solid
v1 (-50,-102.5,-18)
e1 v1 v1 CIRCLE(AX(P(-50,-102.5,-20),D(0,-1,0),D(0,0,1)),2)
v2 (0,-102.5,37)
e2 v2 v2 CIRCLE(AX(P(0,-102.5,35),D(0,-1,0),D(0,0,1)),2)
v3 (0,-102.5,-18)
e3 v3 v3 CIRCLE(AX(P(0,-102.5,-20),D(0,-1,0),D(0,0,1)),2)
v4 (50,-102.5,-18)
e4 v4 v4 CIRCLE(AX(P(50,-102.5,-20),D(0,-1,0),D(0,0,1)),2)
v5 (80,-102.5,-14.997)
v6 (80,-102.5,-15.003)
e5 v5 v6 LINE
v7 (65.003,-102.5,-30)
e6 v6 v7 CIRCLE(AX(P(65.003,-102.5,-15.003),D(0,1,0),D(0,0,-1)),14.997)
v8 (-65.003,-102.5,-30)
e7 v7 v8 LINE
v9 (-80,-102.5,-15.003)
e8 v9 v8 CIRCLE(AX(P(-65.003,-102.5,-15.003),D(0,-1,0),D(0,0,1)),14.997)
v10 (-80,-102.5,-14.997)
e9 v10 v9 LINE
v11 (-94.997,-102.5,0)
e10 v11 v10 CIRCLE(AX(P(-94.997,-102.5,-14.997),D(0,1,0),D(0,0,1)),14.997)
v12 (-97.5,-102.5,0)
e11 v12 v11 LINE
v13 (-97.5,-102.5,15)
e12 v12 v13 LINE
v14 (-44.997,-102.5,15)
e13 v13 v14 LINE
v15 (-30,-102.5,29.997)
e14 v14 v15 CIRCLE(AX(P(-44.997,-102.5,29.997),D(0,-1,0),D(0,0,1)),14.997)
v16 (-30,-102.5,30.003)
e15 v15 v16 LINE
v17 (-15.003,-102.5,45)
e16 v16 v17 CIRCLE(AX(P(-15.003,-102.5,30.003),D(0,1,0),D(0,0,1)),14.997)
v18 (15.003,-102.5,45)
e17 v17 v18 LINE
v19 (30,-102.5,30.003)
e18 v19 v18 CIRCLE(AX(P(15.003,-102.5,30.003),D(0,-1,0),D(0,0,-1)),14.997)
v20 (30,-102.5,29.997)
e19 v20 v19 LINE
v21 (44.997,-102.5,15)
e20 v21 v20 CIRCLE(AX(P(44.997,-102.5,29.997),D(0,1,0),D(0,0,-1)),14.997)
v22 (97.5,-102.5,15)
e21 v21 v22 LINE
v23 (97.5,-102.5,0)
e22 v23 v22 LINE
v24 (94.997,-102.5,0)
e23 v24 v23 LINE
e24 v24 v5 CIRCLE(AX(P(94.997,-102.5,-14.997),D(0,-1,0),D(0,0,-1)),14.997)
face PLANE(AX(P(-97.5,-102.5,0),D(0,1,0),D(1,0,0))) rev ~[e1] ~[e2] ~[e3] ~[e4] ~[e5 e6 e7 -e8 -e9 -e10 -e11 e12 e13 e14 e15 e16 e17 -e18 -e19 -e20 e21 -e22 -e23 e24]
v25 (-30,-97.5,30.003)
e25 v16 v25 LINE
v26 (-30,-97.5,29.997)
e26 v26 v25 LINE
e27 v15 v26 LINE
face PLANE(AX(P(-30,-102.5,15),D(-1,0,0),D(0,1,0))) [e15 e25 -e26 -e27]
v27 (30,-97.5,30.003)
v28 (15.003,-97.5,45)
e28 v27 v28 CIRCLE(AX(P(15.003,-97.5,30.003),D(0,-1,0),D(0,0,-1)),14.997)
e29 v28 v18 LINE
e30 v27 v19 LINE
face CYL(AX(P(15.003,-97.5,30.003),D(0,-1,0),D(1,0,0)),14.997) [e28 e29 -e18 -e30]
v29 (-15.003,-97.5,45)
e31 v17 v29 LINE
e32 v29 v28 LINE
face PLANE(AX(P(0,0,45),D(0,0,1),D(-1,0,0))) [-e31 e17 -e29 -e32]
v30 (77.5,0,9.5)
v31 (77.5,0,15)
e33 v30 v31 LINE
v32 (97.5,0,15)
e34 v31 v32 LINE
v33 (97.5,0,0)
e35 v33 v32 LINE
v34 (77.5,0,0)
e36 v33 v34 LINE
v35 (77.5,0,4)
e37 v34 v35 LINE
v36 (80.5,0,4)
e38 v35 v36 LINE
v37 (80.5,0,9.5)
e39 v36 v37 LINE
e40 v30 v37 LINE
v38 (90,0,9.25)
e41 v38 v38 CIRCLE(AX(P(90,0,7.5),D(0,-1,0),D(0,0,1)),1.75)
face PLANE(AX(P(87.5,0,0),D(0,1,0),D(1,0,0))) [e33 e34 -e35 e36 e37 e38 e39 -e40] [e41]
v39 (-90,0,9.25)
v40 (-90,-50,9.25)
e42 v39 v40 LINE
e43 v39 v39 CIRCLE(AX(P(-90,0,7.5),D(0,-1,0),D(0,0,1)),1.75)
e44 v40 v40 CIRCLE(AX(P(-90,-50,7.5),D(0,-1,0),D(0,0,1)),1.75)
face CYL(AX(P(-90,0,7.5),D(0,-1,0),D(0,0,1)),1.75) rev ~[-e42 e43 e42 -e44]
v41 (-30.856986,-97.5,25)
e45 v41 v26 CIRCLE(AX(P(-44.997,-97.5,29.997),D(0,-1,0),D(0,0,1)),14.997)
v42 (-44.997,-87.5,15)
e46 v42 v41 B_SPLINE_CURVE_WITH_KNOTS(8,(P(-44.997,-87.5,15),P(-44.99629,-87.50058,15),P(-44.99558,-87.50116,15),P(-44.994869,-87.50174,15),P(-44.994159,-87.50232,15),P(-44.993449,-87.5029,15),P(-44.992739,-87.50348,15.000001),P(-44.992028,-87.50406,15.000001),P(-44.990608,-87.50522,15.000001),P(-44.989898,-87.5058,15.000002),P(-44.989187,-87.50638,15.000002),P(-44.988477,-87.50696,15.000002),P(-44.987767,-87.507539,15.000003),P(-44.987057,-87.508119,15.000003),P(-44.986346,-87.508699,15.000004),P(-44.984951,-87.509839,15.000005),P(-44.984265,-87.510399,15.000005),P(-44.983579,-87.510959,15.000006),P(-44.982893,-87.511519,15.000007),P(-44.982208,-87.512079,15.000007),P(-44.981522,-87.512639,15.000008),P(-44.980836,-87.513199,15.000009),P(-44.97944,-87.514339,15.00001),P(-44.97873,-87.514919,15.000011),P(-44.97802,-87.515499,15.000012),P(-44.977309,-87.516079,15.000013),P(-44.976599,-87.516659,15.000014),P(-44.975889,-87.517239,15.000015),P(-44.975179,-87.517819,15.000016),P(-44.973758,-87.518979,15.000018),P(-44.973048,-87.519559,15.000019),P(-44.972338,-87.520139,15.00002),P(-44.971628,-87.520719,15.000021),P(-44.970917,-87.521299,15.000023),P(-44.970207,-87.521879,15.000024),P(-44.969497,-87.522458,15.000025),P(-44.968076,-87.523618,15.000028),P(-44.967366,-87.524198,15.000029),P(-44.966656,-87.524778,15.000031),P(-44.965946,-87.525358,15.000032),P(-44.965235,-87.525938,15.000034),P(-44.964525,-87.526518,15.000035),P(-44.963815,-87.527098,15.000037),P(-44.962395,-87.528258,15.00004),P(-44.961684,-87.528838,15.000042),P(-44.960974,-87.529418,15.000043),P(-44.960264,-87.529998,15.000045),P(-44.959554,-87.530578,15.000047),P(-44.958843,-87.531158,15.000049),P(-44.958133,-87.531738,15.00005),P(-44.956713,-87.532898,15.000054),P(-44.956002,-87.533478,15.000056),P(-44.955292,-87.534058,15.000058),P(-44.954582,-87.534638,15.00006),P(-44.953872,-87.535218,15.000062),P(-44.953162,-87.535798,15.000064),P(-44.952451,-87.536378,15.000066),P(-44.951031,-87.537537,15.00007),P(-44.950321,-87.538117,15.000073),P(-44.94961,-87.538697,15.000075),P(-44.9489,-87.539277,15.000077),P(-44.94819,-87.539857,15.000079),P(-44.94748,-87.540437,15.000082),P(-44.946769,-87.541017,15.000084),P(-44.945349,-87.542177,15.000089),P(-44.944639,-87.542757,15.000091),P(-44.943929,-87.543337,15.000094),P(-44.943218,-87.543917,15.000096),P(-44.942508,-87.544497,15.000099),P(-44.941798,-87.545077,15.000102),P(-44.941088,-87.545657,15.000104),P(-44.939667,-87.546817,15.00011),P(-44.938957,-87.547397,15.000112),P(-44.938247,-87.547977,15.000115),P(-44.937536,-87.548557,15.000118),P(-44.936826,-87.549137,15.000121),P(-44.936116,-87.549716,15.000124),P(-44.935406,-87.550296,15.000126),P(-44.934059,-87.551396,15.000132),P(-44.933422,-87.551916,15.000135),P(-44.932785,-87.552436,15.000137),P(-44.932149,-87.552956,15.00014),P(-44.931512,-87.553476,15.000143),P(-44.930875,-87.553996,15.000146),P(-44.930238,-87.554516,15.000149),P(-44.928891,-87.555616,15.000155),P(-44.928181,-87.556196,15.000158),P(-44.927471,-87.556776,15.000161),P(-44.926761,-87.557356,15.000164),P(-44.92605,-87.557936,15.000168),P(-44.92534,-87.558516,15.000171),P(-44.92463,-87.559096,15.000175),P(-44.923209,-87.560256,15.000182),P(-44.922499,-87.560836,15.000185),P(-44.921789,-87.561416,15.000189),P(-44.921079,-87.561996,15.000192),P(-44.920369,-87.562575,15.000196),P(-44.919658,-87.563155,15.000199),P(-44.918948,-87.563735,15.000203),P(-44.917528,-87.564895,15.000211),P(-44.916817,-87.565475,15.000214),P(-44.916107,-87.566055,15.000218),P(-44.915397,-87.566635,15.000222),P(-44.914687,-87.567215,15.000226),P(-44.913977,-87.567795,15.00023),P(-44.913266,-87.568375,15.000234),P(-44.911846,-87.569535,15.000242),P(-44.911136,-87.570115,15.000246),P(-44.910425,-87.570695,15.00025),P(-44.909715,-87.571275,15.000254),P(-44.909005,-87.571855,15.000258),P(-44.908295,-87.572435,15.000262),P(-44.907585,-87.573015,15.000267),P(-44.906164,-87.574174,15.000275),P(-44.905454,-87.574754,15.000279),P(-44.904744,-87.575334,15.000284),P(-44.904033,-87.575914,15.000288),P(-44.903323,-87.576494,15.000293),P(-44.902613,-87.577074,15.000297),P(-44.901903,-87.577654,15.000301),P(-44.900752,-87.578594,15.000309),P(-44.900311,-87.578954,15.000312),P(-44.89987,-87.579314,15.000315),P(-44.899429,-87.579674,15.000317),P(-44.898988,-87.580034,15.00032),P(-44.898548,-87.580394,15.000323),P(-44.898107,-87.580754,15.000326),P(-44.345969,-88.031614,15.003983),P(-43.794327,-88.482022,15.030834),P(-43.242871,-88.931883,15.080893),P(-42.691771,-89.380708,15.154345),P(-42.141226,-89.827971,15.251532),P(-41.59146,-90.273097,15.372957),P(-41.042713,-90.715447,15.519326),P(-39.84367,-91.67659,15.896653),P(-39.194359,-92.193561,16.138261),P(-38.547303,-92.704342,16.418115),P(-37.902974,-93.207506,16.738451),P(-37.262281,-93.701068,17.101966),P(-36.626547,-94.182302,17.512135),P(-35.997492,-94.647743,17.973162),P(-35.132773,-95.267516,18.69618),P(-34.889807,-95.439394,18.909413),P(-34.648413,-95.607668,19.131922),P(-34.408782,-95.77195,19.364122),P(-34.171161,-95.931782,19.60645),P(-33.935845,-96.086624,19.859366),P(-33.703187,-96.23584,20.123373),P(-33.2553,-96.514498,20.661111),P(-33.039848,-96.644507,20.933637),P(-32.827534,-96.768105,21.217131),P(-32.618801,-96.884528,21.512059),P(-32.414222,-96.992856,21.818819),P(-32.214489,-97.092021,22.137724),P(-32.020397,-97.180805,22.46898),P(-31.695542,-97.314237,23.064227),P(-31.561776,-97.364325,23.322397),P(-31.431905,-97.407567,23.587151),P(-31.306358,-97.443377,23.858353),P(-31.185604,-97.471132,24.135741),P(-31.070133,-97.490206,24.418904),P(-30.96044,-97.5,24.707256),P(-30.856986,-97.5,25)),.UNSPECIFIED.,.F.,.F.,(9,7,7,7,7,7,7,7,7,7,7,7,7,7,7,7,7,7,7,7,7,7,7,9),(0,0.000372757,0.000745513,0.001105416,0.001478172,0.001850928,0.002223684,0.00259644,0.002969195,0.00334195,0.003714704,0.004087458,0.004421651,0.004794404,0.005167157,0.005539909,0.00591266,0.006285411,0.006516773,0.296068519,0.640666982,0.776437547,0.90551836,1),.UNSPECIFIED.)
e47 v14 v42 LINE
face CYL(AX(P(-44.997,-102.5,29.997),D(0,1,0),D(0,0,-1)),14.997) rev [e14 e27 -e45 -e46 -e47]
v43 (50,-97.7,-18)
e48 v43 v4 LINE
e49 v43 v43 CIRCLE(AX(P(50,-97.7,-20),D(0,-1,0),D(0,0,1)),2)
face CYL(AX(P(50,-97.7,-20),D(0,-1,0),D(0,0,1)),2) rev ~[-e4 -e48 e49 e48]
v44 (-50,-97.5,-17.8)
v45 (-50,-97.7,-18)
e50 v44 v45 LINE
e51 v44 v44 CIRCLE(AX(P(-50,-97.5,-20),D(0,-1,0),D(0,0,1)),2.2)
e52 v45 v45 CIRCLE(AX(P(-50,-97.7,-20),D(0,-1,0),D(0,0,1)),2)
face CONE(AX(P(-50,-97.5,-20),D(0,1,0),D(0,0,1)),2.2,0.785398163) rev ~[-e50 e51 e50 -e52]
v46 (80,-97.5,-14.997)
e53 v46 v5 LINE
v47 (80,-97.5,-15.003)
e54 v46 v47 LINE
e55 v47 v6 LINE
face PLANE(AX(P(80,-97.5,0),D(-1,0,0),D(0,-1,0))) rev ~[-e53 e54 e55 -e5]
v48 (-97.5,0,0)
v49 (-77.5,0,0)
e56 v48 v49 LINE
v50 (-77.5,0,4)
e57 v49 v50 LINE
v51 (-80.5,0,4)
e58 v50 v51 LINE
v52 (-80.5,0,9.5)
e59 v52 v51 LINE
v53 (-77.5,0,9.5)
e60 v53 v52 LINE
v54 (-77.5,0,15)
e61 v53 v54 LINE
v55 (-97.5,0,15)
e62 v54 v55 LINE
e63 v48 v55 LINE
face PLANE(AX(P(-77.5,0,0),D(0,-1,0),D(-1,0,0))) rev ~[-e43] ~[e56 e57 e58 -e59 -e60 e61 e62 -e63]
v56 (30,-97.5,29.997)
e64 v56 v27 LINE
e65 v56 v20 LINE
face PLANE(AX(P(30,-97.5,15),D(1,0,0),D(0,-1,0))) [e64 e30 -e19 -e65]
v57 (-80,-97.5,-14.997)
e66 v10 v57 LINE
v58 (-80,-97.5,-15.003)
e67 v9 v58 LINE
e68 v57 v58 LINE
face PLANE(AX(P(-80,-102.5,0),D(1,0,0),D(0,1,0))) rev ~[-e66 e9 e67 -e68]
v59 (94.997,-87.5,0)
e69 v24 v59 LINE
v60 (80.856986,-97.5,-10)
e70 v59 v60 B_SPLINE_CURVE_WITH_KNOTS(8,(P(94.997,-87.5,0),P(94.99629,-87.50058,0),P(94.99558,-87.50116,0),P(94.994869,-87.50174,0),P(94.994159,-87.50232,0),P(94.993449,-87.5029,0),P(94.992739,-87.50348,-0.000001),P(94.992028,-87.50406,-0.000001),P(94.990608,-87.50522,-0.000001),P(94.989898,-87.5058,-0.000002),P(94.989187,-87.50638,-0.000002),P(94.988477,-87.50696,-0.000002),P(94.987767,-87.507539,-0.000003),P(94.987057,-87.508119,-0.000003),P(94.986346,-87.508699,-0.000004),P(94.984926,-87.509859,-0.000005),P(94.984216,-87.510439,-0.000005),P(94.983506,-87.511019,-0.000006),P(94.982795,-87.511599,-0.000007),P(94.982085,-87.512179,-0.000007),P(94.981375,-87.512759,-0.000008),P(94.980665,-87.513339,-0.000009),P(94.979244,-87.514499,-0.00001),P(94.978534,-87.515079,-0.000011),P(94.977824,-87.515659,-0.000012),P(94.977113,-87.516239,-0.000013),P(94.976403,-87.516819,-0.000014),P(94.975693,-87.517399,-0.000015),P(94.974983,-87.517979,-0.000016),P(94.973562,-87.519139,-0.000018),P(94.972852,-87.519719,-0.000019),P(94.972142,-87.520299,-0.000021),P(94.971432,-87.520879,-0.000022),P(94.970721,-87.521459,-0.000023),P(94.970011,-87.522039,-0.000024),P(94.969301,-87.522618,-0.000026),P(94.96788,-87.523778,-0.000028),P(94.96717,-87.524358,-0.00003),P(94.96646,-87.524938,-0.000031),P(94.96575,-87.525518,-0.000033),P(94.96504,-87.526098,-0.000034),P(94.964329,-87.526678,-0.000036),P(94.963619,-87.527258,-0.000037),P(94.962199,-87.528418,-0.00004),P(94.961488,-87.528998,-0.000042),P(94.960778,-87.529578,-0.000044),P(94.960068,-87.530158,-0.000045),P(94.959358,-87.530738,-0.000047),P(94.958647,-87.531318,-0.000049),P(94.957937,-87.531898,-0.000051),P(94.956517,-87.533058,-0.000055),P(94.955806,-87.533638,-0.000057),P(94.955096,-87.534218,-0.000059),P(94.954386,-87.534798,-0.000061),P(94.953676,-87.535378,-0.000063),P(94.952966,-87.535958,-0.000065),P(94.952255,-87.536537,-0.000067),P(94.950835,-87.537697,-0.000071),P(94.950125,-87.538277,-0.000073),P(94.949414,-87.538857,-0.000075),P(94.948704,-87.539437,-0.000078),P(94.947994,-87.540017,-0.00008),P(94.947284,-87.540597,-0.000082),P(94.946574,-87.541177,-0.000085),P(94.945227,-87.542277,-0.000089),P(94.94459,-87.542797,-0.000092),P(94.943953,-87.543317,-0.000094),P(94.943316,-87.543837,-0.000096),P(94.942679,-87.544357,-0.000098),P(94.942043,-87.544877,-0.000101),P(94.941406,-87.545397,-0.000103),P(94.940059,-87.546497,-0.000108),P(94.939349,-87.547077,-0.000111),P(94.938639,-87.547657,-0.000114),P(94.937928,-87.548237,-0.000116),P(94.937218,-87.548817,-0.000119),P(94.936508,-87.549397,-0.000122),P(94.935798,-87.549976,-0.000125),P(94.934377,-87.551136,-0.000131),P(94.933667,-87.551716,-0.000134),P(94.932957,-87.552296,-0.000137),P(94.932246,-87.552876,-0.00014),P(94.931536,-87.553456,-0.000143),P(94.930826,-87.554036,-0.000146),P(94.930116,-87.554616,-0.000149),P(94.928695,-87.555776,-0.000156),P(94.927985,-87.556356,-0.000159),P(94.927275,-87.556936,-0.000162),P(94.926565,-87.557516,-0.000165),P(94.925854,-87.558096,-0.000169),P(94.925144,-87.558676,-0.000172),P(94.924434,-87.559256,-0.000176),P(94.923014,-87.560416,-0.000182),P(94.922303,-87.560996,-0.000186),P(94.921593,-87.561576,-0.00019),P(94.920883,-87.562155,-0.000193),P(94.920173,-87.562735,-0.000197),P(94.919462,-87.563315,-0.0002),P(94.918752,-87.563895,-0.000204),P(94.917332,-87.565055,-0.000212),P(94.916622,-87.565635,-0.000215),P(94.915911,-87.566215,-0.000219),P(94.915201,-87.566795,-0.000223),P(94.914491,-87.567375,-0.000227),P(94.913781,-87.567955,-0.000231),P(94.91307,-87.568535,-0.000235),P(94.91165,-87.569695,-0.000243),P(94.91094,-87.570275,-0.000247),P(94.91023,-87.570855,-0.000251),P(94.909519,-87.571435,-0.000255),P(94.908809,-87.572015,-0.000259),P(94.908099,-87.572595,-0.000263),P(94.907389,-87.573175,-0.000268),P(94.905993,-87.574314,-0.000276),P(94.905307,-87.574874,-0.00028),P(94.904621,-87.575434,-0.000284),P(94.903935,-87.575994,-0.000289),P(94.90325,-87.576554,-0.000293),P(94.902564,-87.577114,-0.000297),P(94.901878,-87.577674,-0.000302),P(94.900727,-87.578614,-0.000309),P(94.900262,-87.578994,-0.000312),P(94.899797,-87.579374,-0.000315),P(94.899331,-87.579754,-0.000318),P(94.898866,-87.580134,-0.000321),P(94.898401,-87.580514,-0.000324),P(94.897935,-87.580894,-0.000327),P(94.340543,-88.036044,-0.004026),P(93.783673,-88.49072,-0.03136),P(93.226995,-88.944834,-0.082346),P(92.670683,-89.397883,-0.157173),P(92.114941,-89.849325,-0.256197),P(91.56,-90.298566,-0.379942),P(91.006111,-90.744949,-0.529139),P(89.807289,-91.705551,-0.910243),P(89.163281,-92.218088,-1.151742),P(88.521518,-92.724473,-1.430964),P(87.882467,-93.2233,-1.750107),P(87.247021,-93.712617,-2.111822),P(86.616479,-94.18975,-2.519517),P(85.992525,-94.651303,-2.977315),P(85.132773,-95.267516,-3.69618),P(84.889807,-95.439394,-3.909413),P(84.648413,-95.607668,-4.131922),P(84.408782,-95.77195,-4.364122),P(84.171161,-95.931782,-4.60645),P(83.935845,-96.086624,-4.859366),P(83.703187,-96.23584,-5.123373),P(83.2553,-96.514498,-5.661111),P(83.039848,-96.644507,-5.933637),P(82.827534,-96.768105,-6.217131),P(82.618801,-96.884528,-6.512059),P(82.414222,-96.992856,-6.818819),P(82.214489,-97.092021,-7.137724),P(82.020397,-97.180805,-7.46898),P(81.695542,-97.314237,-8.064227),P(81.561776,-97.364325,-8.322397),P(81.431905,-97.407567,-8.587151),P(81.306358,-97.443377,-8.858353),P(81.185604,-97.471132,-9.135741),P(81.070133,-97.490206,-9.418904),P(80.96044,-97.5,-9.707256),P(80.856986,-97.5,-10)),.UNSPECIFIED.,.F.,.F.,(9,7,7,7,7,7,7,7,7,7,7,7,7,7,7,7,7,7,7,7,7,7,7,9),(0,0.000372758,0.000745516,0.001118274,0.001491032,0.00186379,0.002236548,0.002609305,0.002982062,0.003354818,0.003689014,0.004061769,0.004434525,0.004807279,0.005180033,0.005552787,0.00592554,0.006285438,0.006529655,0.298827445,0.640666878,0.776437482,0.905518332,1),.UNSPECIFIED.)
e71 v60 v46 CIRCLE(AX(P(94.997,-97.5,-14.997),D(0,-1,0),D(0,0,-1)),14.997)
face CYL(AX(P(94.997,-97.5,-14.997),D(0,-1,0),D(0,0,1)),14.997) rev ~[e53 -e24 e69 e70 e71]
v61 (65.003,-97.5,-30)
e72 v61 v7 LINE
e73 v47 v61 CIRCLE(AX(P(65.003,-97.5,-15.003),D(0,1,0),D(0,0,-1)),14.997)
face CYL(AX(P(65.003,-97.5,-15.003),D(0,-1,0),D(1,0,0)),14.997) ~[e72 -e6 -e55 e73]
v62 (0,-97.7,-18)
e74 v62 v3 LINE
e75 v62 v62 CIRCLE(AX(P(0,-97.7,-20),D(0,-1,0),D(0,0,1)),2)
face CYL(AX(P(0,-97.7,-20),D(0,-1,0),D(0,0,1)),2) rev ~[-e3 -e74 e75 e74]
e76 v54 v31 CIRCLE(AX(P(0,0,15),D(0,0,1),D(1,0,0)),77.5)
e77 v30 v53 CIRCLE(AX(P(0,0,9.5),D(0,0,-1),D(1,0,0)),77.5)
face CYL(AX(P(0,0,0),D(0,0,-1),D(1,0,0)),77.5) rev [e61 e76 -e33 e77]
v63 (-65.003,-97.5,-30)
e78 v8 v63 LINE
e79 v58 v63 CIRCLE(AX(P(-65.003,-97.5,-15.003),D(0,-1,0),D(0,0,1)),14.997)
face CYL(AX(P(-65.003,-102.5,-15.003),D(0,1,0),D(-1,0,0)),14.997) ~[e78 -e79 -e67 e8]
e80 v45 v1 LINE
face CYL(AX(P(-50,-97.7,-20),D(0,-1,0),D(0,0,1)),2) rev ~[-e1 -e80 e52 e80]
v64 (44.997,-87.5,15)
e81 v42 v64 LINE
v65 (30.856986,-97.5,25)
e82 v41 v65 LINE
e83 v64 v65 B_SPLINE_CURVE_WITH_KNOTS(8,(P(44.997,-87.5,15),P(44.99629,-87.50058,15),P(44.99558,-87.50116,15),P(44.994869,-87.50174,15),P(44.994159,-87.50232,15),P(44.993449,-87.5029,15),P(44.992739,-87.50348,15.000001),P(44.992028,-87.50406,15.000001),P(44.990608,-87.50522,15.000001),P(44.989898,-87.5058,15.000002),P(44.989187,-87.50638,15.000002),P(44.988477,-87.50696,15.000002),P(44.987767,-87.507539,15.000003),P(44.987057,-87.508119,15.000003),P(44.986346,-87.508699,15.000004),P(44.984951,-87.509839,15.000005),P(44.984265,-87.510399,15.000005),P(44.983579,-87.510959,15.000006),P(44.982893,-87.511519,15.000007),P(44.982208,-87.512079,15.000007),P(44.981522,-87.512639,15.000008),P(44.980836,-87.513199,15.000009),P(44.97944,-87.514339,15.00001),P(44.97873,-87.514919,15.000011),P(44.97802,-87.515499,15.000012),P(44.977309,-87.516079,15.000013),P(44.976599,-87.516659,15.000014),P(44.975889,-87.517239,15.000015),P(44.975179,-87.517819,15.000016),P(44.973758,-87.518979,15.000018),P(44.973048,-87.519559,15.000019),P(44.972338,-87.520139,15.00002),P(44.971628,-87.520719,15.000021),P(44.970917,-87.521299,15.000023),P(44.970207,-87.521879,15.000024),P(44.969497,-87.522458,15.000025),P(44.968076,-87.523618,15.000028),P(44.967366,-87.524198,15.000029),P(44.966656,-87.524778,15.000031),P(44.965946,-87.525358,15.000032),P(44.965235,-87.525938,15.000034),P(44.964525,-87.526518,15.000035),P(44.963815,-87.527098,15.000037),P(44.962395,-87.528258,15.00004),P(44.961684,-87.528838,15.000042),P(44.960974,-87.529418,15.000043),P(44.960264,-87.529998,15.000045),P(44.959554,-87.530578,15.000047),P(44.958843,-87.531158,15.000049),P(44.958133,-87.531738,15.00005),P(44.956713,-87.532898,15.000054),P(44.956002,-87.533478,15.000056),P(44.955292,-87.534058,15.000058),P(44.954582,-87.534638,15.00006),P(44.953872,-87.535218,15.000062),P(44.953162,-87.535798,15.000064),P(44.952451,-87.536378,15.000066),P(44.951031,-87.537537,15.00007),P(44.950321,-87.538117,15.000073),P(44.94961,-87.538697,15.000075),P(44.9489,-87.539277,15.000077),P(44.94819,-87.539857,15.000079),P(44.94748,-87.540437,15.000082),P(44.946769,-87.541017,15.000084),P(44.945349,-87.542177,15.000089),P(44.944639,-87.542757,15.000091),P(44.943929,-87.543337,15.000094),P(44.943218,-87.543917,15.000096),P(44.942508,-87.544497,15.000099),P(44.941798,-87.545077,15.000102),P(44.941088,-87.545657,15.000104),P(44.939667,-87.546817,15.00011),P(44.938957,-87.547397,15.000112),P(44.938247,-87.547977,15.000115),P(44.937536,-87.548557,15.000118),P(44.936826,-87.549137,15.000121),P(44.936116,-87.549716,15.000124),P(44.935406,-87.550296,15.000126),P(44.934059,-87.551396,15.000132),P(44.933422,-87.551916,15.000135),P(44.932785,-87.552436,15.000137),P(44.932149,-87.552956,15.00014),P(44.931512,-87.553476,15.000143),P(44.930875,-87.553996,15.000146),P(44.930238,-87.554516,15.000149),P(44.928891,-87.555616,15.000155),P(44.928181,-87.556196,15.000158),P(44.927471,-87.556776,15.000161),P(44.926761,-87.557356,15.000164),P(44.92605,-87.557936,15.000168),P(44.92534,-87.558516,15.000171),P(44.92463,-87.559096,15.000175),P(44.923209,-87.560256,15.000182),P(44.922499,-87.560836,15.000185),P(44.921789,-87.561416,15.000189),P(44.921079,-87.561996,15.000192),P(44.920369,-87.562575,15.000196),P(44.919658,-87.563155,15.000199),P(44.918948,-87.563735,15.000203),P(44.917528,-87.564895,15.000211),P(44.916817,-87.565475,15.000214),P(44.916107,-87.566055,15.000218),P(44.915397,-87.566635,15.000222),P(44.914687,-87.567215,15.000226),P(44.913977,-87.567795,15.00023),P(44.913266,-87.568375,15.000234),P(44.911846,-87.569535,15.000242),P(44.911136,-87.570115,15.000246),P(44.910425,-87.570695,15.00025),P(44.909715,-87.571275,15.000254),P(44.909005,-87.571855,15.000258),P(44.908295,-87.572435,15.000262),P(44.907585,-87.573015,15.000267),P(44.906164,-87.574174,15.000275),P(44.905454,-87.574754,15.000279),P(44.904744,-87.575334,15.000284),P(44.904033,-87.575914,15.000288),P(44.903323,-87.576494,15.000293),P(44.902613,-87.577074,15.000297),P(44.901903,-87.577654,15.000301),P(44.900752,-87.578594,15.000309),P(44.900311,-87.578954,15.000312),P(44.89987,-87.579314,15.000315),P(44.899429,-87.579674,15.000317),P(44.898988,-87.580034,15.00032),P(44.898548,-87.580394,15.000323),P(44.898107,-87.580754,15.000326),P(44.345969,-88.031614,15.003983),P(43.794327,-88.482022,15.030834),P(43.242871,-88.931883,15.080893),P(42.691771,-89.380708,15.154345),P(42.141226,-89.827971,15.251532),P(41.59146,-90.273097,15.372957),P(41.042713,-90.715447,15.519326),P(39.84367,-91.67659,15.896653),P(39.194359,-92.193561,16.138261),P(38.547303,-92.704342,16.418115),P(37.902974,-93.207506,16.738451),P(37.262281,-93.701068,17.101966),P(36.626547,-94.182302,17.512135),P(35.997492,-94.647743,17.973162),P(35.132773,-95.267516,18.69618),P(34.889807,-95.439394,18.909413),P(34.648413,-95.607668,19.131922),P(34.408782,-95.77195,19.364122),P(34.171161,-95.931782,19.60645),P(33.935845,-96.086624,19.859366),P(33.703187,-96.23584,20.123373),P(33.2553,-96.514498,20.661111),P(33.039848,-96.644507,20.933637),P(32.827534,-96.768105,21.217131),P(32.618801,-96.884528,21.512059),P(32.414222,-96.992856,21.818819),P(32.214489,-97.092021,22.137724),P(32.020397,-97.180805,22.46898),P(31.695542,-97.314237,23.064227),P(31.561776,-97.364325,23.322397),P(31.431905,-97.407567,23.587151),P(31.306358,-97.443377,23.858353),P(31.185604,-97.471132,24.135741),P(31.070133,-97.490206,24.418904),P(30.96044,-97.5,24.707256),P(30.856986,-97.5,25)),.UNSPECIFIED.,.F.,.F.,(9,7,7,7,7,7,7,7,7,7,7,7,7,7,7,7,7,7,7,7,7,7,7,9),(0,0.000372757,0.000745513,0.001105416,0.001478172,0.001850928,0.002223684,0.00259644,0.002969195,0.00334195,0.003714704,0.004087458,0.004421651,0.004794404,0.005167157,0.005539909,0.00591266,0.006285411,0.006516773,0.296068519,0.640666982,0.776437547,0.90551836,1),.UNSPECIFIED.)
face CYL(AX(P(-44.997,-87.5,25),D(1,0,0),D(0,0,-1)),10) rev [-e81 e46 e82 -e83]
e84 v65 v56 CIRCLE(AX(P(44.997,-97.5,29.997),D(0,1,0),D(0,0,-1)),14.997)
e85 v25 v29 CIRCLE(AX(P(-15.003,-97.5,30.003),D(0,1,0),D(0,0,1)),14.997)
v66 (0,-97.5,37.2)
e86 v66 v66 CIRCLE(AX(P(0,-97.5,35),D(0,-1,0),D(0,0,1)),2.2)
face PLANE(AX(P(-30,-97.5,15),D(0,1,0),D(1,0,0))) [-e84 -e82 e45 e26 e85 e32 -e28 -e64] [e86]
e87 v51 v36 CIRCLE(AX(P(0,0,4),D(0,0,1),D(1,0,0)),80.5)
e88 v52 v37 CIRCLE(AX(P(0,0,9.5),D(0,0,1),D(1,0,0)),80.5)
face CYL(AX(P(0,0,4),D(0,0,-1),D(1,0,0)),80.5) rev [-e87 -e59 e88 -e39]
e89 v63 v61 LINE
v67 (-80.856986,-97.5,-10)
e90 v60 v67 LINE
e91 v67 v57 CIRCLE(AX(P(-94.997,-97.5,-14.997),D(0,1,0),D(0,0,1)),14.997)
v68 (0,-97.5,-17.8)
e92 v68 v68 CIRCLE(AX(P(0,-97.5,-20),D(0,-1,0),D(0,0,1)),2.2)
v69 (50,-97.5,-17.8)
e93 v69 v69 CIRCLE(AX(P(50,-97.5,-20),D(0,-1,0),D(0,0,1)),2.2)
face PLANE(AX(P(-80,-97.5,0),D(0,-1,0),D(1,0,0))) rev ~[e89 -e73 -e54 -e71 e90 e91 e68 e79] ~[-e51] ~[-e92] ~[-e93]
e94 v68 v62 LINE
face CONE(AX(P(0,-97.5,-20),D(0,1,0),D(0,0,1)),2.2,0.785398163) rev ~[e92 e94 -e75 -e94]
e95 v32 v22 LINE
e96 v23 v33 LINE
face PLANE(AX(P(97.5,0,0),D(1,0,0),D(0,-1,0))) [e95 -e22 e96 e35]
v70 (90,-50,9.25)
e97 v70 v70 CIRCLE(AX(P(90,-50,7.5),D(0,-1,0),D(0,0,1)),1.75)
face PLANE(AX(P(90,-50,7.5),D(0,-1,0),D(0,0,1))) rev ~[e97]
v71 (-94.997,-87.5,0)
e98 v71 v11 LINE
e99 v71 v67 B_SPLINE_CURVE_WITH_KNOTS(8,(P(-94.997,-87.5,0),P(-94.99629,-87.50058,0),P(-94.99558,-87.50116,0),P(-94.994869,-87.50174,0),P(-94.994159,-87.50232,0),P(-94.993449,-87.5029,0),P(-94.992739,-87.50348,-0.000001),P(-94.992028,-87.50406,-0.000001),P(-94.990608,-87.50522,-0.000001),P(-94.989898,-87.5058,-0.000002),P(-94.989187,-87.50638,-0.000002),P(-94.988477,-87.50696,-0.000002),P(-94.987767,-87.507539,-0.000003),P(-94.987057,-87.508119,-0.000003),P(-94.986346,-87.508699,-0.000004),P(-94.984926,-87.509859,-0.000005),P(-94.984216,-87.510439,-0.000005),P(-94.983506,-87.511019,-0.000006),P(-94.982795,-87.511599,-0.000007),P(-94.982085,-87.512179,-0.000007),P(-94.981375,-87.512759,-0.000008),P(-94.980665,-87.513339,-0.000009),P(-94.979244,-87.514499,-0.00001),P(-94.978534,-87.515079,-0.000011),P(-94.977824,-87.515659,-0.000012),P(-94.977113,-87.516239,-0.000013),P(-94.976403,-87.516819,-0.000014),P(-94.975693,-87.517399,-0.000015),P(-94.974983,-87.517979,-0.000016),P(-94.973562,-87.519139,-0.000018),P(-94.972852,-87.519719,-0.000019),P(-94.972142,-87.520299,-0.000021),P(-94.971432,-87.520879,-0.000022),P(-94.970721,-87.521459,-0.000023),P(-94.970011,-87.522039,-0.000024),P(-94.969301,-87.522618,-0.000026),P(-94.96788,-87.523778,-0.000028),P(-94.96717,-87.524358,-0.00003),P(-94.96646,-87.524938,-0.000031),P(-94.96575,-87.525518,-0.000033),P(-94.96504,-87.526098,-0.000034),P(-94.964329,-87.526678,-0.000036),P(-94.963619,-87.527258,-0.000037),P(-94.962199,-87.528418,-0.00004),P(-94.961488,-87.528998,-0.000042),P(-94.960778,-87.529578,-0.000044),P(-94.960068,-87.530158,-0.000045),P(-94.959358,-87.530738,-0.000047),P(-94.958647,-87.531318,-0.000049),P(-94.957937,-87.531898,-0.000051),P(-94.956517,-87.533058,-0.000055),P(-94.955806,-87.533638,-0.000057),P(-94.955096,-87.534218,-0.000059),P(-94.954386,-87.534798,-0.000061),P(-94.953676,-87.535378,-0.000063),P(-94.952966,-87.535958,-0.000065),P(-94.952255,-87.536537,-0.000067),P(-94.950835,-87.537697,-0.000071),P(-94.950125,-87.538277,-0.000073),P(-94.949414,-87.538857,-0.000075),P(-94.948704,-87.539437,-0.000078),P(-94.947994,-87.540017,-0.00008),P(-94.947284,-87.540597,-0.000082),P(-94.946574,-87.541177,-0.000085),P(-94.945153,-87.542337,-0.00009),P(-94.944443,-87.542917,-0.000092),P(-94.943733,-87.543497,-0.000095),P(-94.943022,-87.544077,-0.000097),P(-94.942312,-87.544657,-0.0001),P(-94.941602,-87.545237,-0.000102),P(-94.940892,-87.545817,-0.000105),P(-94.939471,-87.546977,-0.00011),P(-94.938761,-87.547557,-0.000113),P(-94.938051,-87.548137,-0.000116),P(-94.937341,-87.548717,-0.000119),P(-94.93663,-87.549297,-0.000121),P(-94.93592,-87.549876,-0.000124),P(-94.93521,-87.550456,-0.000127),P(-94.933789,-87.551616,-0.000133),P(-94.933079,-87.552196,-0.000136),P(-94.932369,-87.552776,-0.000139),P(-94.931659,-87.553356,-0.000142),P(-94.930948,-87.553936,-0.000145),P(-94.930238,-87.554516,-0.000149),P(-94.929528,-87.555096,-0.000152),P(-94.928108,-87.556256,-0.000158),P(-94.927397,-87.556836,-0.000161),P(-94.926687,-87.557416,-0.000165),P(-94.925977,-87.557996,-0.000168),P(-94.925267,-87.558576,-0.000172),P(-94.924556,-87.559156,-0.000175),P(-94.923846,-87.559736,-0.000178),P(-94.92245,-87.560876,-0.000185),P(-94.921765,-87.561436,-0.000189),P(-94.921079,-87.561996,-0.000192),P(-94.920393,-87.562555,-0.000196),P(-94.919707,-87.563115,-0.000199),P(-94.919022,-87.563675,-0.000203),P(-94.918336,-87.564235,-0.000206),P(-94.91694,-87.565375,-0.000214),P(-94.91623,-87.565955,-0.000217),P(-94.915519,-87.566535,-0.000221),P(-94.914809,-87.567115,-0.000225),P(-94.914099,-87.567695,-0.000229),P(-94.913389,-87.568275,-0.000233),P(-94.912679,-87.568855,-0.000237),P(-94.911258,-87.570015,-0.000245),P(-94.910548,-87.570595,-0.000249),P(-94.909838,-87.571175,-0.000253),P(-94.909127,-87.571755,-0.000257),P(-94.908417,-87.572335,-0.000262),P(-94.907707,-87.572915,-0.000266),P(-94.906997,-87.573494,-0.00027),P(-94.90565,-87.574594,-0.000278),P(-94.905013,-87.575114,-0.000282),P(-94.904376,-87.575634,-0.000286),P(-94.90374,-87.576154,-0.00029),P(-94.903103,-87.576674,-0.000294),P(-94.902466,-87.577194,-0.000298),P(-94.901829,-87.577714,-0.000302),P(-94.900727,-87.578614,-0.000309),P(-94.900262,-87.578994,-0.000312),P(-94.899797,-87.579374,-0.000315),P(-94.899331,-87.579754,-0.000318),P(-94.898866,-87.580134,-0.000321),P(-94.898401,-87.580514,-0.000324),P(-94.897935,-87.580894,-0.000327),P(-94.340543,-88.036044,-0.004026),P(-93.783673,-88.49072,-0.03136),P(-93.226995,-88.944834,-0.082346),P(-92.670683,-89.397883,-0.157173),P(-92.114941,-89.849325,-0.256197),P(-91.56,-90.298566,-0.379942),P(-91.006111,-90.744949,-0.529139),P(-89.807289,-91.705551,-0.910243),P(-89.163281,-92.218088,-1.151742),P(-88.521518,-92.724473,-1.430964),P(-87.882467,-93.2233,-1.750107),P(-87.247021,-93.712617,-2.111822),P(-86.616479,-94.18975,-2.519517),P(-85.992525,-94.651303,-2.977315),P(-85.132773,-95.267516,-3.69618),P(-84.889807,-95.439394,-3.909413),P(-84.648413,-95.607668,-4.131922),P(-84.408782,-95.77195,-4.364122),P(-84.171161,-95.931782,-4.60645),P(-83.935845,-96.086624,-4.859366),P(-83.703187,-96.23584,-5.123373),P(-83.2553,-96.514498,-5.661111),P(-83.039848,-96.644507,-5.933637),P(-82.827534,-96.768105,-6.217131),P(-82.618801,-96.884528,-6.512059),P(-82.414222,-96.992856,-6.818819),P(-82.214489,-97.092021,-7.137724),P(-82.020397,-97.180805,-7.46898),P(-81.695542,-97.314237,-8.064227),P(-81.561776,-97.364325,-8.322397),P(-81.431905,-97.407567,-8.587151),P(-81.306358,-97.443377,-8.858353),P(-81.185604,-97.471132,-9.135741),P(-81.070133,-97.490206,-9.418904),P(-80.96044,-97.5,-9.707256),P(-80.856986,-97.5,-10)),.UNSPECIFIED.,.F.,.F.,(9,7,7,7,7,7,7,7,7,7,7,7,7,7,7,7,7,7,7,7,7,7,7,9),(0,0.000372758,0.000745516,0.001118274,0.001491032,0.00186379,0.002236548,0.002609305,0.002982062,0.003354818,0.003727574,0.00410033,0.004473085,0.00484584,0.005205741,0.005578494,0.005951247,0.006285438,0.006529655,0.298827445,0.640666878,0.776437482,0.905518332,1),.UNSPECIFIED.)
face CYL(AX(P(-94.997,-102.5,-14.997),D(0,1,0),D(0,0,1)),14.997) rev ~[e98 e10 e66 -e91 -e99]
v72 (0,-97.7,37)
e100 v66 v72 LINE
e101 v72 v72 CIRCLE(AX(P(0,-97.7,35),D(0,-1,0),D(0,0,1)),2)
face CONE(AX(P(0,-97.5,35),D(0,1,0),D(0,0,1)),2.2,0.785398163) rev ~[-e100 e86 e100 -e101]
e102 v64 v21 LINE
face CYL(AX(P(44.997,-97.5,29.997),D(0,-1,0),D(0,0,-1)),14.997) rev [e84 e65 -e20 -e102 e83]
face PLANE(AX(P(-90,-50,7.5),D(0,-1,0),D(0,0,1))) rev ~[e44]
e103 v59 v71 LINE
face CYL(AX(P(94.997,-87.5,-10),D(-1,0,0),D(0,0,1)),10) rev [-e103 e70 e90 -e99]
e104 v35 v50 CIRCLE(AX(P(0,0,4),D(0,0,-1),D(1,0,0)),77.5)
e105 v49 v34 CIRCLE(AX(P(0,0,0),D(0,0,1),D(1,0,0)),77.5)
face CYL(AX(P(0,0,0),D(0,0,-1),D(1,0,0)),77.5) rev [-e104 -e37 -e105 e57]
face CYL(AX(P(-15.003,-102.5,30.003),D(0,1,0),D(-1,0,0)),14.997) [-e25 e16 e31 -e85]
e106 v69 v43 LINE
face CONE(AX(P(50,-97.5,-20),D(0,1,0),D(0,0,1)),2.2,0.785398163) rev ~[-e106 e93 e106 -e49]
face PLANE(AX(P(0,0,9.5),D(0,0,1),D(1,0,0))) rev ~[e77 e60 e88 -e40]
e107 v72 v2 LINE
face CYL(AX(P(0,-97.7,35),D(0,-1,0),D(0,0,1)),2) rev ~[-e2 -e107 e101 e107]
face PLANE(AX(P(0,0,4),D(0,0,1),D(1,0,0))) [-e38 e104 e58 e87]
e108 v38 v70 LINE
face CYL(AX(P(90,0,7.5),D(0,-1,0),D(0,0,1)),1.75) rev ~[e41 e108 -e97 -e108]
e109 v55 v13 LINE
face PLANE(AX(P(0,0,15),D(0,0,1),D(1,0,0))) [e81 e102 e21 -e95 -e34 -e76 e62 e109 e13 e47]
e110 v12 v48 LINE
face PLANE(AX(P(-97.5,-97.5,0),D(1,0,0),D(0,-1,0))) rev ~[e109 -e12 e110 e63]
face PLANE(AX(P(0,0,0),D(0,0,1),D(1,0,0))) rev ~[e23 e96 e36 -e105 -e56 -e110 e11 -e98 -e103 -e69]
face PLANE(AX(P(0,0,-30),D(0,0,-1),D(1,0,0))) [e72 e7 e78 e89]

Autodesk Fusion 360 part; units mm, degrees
sketch "Sketch1" plane through (0, 0, 0) normal (0, 0, 1) x (1, 0, 0)
  circle A0 centre (0, 0) radius 87.5
  circle A1 centre (0, 0) radius 77.5
  line L0 (77.5, 0) -> (97.5, 0)
  line L1 (97.5, 0) -> (97.5, -97.5)
  line L2 (97.5, -97.5) -> (77.5, -97.5)
  line L3 (77.5, -97.5) -> (77.5, 0)
  line L4 (-77.5, 0) -> (-97.5, 0)
  line L5 (-97.5, 0) -> (-97.5, -97.5)
  line L6 (-97.5, -97.5) -> (-77.5, -97.5)
  line L7 (-77.5, -97.5) -> (-77.5, 0)
  line L8 (97.5, -97.5) -> (-97.5, -97.5)
  line L9 (-97.5, -97.5) -> (-97.5, -102.5)
  line L10 (-97.5, -102.5) -> (97.5, -102.5)
  line L11 (97.5, -102.5) -> (97.5, -97.5)
  dimension "d1" = 155
  dimension "d2" = 175
  dimension "d15" = 97.5
  dimension "d16" = 5
  dimension "d17" = 10
  dimension "d18" = 20
  dimension "d19" = 20
extrude "Extrude1" add sketch "Sketch1" along normal blind 15 contours A0 L0 L1 L2 L3 L8 | A0 L0 L3 | A0 L4 L7 | A0 L4 L5 L6 L7 L8 | A0 L3 L7 L8 | A0 A1 L3 L7 | L2 L6 L8 L9 L10 L11
sketch "Sketch2" plane through (0, 0, 0) normal (0, 0, 1) x (1, 0, 0)
  circle A0 centre (0, 0) radius 80.5
  dimension "d10" = 161
extrude "Extrude2" cut sketch "Sketch2" along normal blind 5.5 from surface at 4
sketch "Sketch3" plane through (0, 0, 15) normal (0, 0, 1) x (-1, 0, 0)
  line L0 (77.5, 0) -> (97.5, 0)
  line L1 (97.5, 0) -> (97.5, 102.5)
  line L2 (97.5, 102.5) -> (-97.5, 102.5)
  line L3 (-97.5, 102.5) -> (-97.5, 0)
  line L4 (-97.5, 0) -> (-77.5, 0)
  arc A0 (77.5, 0) -> (-77.5, 0) centre (0, 0) ccw
  line L5 (-30, 102.5) -> (30, 102.5)
  line L6 (30, 102.5) -> (30, 97.5)
  line L7 (30, 97.5) -> (-30, 97.5)
  line L8 (-30, 97.5) -> (-30, 102.5)
  dimension "d22" = 30
  dimension "d23" = 30
extrude "Extrude3" add sketch "Sketch3" along normal blind 30 contours L2 L5 L6 L7 L8
fillet "Fillet2" radius 15 4 edges at (-30, -100, 45) (30, -100, 45) (-30, -100, 15) (30, -100, 15)
sketch "Sketch4" plane through (0, -97.5, 0) normal (0, 1, 0) x (-1, 0, 0)
  arc A0 (-15, 45) -> (-30, 30) centre (-15, 30) ccw
  arc A1 (-45, 15) -> (-30, 30) centre (-45, 30) ccw
  line L0 (-45, 15) -> (45, 15)
  arc A2 (30, 30) -> (45, 15) centre (45, 30) ccw
  arc A3 (30, 30) -> (15, 45) centre (15, 30) ccw
  line L1 (15, 45) -> (-15, 45)
  line L2 (-97.5, 7.5) -> (97.5, 7.5) construction
  line L3 (-45, 0) -> (45, 0)
  line L4 (15, -30) -> (-15, -30)
  arc A4 (15, -30) -> (30, -15) centre (15, -15) ccw
  arc A5 (45, 0) -> (30, -15) centre (45, -15) ccw
  arc A6 (-30, -15) -> (-15, -30) centre (-15, -15) ccw
  arc A7 (-30, -15) -> (-45, 0) centre (-45, -15) ccw
  point P0 (0, 30)
  point P1 (-97.5, 7.5)
  point P2 (97.5, 7.5)
  point P3 (0, -15)
  dimension "d28" = 15
sketch "Sketch5" plane through (0, 0, 0) normal (0, 0, -1) x (1, 0, 0)
  line L0 (-97.5, 0) -> (-77.5, 0)
  arc A0 (77.5, 0) -> (-77.5, 0) centre (0, 0) ccw
  line L1 (77.5, 0) -> (97.5, 0)
  line L2 (97.5, 0) -> (97.5, 102.5)
  line L3 (97.5, 102.5) -> (-97.5, 102.5)
  line L4 (-97.5, 102.5) -> (-97.5, 0)
  line L5 (80, 102.5) -> (-80, 102.5)
  line L6 (-80, 102.5) -> (-80, 97.5)
  line L7 (-80, 97.5) -> (80, 97.5)
  line L8 (80, 97.5) -> (80, 102.5)
  dimension "d39" = 80
  dimension "d40" = 80
extrude "Extrude4" add sketch "Sketch5" along normal blind 30 contours L3 L5 L6 L7 L8
fillet "Fillet4" radius 15 4 edges at (80, -100, -30) (-80, -100, -30) (-80, -100, 0) (80, -100, 0)
sketch "Sketch6" plane through (0, -97.5, 0) normal (0, 1, 0) x (-1, 0, 0)
  arc A0 (65, -30) -> (80, -15) centre (65, -15) ccw
  arc A1 (95, 0) -> (80, -15) centre (95, -15) ccw
  line L0 (95, 0) -> (-95, 0)
  arc A2 (-80, -15) -> (-95, 0) centre (-95, -15) ccw
  arc A3 (-80, -15) -> (-65, -30) centre (-65, -15) ccw
  line L1 (-65, -30) -> (65, -30)
  line L2 (-77.5, 15) -> (77.5, 15)
  point P0 (0, -20)
  point P1 (0, 35)
  point P2 (50, -20)
  point P3 (-50, -20)
  dimension "d49" = 20
  dimension "d50" = 20
  dimension "d53" = 50
  dimension "d54" = 50
hole "Hole2" at (0, -97.5, -20) at (0, -97.5, 35) at (-50, -97.5, -20) at (50, -97.5, -20) direction (0, -1, 0) diameter 4 end through all countersink diameter 4.4 countersink angle 90
sketch "Sketch7" plane through (0, 0, 0) normal (0, 1, 0) x (-1, 0, 0)
  line L0 (77.5, 9.5) -> (80.5, 9.5)
  line L1 (80.5, 9.5) -> (80.5, 4)
  line L2 (80.5, 4) -> (77.5, 4)
  line L3 (77.5, 4) -> (77.5, 0)
  line L4 (77.5, 0) -> (97.5, 0)
  line L5 (97.5, 0) -> (97.5, 15)
  line L6 (97.5, 15) -> (77.5, 15)
  line L7 (77.5, 15) -> (77.5, 9.5)
  line L8 (-77.5, 0) -> (-97.5, 0)
  line L9 (-97.5, 0) -> (-97.5, 15)
  point P0 (90, 7.5)
  point P1 (-90, 7.5)
  dimension "d55" = 7.5
  dimension "d56" = 7.5
  dimension "d57" = 7.5
  dimension "d58" = 7.5
hole "Hole3" at (-90, 0, 7.5) at (90, 0, 7.5) direction (0, -1, 0) diameter 3.5 depth 50 tip angle 180
fillet "Fillet5" radius 10 2 edges at (0, -97.5, 0) (0, -97.5, 15)
equation "d15 = d2 / 2 + 10 mm"
equation "d18 = d17 + 10 mm"
equation "d19 = d18"
equation "d23 = d22"
equation "d40 = d39"
equation "d56 = d55"
equation "d58 = d57"
